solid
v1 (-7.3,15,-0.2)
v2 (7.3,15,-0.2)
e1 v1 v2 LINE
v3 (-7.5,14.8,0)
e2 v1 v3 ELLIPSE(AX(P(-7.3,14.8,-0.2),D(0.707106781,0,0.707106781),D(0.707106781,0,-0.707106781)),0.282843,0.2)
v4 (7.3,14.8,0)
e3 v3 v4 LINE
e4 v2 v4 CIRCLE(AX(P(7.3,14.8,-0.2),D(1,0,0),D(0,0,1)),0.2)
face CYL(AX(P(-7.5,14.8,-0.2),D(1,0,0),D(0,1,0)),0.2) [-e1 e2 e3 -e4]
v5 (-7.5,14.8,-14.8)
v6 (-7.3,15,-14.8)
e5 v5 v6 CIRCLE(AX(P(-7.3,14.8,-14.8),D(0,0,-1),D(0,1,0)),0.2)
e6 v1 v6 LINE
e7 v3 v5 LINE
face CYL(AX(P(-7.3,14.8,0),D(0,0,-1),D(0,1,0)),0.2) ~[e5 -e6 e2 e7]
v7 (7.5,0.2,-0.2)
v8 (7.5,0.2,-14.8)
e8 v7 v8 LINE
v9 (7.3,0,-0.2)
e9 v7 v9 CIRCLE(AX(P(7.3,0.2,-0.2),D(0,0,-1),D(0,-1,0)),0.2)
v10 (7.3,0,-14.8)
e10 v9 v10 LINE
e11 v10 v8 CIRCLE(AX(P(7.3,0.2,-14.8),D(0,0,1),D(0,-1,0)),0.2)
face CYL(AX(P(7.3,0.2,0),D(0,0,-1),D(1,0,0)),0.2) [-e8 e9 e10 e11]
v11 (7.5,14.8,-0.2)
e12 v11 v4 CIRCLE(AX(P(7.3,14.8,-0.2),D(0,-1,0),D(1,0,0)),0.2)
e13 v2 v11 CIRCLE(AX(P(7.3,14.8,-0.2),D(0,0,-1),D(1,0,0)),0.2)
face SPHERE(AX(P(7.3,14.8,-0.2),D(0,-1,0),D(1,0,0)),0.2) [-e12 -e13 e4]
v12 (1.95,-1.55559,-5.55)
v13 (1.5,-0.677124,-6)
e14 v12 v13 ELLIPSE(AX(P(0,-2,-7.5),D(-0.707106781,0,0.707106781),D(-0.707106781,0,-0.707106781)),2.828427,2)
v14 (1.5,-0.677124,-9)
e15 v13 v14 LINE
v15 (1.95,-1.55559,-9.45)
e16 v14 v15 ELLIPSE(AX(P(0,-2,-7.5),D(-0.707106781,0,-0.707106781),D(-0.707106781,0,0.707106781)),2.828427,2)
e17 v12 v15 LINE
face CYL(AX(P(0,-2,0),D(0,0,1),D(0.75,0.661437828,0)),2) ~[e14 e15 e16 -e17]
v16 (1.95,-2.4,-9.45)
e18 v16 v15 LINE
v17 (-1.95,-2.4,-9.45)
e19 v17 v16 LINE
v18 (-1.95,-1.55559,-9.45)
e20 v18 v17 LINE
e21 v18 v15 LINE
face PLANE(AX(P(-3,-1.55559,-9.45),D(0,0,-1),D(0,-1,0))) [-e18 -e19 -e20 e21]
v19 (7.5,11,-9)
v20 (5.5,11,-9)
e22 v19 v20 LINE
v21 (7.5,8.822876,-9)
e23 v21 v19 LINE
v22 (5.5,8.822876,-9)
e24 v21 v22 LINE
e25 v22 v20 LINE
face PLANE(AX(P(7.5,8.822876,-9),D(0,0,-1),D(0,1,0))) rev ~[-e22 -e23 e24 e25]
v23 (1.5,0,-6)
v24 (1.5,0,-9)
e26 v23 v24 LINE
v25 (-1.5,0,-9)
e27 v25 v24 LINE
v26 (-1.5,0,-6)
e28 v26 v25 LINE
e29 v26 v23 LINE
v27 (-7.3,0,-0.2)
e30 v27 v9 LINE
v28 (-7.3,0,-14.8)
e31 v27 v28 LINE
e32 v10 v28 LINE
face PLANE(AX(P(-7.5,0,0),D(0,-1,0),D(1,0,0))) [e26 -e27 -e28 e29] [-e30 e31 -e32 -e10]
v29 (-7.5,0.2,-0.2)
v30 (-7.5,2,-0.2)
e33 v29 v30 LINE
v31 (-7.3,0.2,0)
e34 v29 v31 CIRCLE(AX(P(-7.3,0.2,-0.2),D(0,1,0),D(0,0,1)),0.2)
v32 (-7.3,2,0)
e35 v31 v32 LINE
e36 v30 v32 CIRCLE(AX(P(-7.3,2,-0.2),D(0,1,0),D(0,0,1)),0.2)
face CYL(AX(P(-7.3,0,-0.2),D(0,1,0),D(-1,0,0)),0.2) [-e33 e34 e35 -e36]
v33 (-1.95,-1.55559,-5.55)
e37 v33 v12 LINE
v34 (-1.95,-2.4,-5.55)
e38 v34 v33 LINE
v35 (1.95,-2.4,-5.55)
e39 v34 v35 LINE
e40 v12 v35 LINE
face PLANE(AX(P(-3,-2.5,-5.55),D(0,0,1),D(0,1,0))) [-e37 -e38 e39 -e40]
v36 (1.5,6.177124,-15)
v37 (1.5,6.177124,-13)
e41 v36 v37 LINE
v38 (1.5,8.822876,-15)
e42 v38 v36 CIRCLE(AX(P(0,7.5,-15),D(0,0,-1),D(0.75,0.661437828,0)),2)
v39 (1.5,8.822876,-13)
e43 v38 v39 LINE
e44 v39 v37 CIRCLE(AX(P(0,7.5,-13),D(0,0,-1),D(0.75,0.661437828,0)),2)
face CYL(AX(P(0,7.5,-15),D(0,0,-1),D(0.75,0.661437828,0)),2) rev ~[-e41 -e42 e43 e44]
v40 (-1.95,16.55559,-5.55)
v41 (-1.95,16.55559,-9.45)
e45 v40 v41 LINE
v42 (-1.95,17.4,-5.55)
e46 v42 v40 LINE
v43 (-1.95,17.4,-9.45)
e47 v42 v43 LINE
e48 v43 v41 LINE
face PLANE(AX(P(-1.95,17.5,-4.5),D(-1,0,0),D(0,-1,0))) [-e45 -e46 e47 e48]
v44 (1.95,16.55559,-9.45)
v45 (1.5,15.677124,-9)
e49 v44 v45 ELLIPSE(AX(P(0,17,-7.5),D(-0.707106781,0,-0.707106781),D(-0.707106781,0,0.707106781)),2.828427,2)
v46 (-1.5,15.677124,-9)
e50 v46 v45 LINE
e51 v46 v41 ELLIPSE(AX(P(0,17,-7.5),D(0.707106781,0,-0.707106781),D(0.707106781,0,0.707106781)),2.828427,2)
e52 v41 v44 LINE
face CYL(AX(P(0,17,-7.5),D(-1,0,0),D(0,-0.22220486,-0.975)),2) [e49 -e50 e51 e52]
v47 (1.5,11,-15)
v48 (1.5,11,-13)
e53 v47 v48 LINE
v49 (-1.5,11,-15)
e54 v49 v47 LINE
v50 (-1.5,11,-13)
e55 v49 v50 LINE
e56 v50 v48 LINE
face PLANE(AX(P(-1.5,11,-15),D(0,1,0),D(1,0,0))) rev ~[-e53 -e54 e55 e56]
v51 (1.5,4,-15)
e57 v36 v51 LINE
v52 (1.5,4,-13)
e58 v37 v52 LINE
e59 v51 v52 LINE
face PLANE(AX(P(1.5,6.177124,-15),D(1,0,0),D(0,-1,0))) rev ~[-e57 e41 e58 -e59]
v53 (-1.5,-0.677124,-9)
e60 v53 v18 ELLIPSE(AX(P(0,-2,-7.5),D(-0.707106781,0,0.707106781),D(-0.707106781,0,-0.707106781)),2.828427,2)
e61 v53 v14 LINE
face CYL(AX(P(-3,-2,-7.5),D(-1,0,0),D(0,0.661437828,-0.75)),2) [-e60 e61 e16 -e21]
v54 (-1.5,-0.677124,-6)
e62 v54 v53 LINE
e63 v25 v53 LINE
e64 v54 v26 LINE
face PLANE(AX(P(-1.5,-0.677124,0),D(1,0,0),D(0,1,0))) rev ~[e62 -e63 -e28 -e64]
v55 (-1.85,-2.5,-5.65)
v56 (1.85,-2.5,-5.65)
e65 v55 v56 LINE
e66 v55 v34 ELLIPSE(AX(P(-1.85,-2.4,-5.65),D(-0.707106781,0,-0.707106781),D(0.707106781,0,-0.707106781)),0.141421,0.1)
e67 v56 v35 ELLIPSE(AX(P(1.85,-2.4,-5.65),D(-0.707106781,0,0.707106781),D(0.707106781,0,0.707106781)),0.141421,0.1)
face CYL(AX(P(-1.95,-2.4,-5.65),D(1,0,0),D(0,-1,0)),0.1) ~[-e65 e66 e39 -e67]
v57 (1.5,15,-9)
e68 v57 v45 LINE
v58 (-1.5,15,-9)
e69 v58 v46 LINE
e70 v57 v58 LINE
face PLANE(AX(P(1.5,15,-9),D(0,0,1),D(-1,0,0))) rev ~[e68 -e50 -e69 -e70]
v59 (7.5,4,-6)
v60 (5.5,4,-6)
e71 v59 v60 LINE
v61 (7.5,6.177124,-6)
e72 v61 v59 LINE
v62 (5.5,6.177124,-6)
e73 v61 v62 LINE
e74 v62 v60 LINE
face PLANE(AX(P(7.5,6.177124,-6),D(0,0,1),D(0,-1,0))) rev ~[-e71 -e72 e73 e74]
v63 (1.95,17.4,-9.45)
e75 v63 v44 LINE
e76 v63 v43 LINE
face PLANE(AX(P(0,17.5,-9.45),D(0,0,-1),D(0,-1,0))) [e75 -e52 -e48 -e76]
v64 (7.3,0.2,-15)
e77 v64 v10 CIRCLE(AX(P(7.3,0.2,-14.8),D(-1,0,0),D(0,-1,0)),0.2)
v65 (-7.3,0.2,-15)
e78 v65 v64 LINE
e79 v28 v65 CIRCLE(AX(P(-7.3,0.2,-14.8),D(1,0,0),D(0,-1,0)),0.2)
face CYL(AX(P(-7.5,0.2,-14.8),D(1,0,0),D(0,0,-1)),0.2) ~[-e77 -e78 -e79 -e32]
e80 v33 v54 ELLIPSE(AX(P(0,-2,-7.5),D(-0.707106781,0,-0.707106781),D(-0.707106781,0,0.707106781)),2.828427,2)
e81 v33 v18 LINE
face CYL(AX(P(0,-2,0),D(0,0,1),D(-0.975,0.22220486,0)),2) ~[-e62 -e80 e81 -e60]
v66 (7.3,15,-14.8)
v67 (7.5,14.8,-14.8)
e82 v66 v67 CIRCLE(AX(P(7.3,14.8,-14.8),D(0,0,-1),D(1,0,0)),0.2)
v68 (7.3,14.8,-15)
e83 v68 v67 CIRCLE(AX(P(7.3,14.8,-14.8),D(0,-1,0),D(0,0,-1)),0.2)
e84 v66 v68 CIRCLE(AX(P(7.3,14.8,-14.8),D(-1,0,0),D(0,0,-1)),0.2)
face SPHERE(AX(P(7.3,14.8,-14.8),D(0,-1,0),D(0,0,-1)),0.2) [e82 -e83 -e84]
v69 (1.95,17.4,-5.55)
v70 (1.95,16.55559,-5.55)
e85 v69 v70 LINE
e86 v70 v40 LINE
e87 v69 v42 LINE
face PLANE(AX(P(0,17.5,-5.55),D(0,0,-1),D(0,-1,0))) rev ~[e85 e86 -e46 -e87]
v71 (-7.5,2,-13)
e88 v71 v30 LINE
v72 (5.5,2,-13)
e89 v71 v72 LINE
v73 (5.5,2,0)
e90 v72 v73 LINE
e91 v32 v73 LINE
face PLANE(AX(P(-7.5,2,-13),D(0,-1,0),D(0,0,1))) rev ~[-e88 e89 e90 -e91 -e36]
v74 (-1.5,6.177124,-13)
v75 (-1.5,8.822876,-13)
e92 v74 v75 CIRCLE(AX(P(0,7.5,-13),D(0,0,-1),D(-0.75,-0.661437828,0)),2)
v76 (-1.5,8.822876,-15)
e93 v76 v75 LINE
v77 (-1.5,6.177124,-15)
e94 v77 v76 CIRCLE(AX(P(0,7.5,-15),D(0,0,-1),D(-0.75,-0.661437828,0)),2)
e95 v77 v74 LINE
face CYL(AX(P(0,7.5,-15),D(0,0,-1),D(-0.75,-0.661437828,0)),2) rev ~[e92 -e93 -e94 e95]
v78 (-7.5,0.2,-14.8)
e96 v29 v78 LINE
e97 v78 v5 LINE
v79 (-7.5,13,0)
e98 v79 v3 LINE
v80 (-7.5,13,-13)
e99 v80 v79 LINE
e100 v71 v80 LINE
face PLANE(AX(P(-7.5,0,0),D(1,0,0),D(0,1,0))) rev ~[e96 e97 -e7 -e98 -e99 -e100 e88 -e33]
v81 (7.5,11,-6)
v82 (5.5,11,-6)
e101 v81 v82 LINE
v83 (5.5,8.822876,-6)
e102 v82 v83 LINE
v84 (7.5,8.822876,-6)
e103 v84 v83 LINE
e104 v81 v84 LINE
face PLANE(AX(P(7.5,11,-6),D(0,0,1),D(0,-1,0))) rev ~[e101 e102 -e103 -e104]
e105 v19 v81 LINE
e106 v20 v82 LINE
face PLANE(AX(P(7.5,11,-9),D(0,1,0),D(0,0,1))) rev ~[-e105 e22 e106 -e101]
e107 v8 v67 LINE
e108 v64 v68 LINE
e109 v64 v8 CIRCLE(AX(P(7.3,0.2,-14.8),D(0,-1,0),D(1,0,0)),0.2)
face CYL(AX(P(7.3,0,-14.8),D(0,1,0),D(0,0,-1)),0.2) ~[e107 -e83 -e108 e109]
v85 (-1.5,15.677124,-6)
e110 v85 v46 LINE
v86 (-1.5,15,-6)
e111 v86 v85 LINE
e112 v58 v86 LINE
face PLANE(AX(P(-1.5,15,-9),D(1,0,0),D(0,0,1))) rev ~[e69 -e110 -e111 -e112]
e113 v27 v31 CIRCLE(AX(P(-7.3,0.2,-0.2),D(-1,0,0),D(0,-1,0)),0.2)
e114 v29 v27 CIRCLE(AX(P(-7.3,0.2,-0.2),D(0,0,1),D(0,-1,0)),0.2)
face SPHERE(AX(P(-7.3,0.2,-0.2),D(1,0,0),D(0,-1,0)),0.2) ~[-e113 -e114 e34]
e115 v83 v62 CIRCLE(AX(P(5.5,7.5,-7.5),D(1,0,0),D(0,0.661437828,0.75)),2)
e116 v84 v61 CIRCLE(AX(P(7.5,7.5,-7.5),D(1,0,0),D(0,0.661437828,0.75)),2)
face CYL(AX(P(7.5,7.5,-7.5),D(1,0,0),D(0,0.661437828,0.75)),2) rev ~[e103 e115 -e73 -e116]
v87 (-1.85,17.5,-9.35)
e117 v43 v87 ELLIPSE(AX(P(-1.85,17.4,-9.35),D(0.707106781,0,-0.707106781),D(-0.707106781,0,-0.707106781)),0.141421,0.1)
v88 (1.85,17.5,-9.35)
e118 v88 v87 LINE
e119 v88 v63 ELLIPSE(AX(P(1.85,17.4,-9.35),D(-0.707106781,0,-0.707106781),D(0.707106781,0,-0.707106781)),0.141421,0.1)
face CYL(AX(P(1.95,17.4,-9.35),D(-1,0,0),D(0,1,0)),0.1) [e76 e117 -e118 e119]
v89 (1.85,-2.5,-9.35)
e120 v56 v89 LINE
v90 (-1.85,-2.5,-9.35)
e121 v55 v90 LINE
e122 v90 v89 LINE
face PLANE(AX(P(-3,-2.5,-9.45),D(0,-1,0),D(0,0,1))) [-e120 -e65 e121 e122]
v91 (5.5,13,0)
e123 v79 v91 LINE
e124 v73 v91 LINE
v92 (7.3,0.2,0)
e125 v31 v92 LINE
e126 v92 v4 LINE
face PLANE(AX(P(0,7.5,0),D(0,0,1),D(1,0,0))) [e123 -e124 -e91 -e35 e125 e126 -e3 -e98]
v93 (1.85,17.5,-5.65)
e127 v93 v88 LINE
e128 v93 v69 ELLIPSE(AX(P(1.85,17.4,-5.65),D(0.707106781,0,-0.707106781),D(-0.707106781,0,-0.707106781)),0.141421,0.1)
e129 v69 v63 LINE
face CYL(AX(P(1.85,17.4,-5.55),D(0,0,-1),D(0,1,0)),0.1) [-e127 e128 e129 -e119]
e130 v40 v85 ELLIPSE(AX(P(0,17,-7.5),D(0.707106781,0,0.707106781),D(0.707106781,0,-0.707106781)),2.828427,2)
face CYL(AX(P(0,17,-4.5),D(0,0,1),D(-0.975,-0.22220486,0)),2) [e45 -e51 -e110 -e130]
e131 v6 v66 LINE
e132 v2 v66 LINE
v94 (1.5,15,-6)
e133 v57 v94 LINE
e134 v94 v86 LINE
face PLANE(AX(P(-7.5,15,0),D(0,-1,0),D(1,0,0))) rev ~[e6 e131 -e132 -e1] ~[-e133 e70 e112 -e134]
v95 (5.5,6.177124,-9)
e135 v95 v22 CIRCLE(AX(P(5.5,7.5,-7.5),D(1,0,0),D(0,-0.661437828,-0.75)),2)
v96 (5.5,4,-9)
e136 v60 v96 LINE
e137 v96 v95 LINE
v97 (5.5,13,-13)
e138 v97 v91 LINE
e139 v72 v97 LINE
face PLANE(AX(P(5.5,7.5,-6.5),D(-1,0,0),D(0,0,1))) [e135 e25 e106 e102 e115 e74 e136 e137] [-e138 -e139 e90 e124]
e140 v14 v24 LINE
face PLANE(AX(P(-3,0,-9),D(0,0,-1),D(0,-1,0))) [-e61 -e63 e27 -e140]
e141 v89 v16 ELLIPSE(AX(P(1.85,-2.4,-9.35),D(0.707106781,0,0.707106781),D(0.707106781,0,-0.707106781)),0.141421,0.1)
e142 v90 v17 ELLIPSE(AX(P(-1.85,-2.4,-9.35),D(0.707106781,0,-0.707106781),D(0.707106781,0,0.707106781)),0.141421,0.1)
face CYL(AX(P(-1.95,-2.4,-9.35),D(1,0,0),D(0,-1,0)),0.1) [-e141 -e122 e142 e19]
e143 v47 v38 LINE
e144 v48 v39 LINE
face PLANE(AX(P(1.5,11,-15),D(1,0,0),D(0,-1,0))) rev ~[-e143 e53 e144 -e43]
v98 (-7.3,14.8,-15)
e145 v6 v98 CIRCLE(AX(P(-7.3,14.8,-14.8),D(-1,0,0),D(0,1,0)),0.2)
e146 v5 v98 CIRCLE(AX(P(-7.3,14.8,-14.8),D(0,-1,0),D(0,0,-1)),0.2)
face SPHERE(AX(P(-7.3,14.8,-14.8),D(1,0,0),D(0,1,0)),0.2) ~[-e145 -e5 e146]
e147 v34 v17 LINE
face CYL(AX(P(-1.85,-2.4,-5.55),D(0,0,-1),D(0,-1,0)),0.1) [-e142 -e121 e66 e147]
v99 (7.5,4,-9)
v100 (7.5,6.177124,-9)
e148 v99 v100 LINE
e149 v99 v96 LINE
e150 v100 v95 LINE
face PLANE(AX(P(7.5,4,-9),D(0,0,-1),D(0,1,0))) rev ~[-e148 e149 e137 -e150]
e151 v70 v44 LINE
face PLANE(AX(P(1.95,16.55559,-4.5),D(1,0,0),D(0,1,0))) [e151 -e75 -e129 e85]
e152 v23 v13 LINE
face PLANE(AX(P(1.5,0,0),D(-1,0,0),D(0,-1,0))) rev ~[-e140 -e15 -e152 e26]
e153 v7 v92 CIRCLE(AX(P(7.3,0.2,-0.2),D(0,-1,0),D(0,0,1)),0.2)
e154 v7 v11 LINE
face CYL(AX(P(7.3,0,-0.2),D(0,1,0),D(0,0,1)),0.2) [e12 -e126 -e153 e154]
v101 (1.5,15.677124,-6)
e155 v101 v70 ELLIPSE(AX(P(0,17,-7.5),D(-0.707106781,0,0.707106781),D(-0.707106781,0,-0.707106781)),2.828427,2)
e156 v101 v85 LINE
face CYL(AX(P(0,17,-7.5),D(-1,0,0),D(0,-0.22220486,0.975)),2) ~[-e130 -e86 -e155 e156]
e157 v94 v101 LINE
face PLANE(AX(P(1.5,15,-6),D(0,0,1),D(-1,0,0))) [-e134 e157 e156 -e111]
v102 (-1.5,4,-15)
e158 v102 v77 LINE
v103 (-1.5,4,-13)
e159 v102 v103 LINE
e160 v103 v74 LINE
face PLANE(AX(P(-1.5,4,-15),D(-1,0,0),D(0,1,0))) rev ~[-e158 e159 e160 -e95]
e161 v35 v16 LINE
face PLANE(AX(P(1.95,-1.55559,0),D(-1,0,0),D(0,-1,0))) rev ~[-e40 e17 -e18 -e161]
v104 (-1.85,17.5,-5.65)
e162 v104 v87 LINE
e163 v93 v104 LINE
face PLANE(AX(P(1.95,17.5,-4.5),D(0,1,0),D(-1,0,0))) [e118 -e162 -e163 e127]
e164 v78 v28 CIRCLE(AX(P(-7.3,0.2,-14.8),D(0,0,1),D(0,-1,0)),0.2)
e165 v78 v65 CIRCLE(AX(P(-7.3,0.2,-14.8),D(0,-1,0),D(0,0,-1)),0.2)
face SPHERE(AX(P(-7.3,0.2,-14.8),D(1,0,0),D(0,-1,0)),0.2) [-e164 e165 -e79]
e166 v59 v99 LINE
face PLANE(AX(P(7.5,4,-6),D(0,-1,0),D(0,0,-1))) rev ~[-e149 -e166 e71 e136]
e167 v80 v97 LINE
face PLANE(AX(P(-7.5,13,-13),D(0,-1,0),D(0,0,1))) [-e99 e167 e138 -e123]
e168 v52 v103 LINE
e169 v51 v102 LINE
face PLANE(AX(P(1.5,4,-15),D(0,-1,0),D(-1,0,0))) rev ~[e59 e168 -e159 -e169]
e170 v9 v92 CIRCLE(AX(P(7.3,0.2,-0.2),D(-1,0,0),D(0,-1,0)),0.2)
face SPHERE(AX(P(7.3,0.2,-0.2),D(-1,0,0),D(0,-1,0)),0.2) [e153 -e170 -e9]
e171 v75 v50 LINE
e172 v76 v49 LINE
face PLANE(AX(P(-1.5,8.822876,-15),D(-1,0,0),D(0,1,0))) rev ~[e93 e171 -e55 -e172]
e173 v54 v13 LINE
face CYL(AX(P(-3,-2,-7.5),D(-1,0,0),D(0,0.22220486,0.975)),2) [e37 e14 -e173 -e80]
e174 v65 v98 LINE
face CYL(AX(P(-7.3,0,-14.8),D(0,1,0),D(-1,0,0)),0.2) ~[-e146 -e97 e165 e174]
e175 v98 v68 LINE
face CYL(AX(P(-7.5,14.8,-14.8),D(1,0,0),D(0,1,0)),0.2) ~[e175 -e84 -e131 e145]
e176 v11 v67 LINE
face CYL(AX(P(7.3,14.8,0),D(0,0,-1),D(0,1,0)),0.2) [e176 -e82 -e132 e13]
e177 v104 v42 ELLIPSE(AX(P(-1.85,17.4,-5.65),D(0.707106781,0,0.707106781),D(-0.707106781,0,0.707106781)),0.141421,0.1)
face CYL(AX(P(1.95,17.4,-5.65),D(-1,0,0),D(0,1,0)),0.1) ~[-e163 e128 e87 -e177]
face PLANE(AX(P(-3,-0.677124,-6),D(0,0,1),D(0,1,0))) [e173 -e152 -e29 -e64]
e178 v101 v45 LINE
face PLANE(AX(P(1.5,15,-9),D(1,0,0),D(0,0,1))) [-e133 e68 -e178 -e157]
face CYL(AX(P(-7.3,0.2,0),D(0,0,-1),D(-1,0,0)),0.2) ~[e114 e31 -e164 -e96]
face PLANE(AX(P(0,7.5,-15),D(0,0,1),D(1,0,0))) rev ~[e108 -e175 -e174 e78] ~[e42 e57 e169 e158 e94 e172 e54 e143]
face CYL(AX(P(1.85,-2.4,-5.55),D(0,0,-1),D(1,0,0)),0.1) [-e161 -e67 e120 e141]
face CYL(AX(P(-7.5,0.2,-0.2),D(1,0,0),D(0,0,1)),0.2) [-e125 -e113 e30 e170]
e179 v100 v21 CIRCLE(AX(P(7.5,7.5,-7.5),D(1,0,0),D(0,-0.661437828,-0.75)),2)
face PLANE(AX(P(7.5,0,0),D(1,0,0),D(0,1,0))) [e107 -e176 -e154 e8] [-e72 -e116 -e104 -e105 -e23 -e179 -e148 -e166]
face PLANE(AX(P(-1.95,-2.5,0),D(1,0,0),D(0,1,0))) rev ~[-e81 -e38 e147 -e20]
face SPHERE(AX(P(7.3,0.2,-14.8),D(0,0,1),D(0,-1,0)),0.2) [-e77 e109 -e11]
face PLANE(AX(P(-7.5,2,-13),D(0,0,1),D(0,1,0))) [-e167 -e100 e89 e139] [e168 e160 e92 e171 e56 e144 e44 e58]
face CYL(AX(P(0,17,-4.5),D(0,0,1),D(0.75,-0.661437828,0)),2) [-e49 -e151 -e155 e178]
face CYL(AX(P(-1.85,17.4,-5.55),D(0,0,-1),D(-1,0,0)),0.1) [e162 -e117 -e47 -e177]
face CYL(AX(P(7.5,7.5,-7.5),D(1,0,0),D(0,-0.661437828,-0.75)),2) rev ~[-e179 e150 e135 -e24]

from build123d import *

# Parameters (mm, degrees)
SKETCH_1_W                      = 15
SKETCH_1_H                      = 15
EXTRUDE_1_DEPTH                 = 15
SKETCH_2_W                      = 13
SKETCH_2_H                      = 11
CUT_EXTRUDE_1_DEPTH             = 13
EXTRUDE_START                   = -4.5
EXTRUDE_2_DEPTH                 = 6
SKETCH_5_W                      = 3
SKETCH_5_H                      = 3
EXTRUDE_3_DEPTH                 = 1
CUT_EXTRUDE_3_REACH             = 26.238
CUT_EXTRUDE_4_REACH             = 29.5
CUT_EXTRUDE_5_REACH             = 26.238
CUT_EXTRUDE_5_DIRECTION_2_REACH = 26.238
FILLET_1_R                      = 0.1
FILLET_2_R                      = 0.2
EXTRUDE_4_DEPTH                 = 3
EXTRUDE_4_DEPTH_BACK            = 3
CUT_EXTRUDE_6_DEPTH             = 15
FILLET_3_R                      = 0.1


with BuildPart() as part:
    # 草图1 → 凸台-拉伸1 (new body)
    with BuildSketch(Plane.XY):
        with Locations((0, 7.5)):
            Rectangle(SKETCH_1_W, SKETCH_1_H)
    extrude(amount=-EXTRUDE_1_DEPTH)

    # 草图2 → 切除-拉伸1 (cut)
    with BuildSketch(Plane.ZY.offset(7.5)):
        with Locations((-6.5, 7.5)):
            Rectangle(SKETCH_2_W, SKETCH_2_H)
    extrude(amount=-CUT_EXTRUDE_1_DEPTH, mode=Mode.SUBTRACT)



with BuildPart() as body_2:
    # 草图4 → 凸台-拉伸2 (new body)
    with BuildSketch(Plane.XY.offset(EXTRUDE_START)):
        with BuildLine():
            Line((-1.5, 15.677124344), (1.5, 15.677124344))
            ThreePointArc((1.5, 15.677124344), (1.780042303, 16.088161527), (1.95, 16.555590279))
            Line((1.95, 16.555590279), (1.95, 17.5))
            Line((1.95, 17.5), (-1.95, 17.5))
            Line((-1.95, 17.5), (-1.95, 16.555590279))
            ThreePointArc((-1.95, 16.555590279), (-1.780042303, 16.088161527), (-1.5, 15.677124344))
        make_face()
    extrude(amount=-EXTRUDE_2_DEPTH)


with BuildPart() as part_1:
    add(part.part)

    add(body_2.part)  # 凸台-拉伸3 merges body 2
    # 草图5 → 凸台-拉伸3 (add)
    with BuildSketch(Plane(origin=(0, 15, 0), x_dir=(-1, 0, 0), z_dir=(0, 1, 0))):
        with Locations((0, -7.5)):
            Rectangle(SKETCH_5_W, SKETCH_5_H)
    extrude(amount=EXTRUDE_3_DEPTH)

    # 草图6 → 切除-拉伸3 (cut, up to next)
    with BuildSketch(Plane(origin=(0, 0, -15), x_dir=(-1, 0, 0), z_dir=(0, 0, -1)), mode=Mode.PRIVATE) as cut_extrude_3_sk1:
        with BuildLine():
            Line((-1.5, 6.177124344), (-1.5, 4))
            Line((-1.5, 4), (1.5, 4))
            Line((1.5, 4), (1.5, 6.177124344))
            ThreePointArc((1.5, 6.177124344), (2, 7.5), (1.5, 8.822875656))
            Line((1.5, 8.822875656), (1.5, 11))
            Line((1.5, 11), (-1.5, 11))
            Line((-1.5, 11), (-1.5, 8.822875656))
            ThreePointArc((-1.5, 8.822875656), (-2, 7.5), (-1.5, 6.177124344))
        make_face()
    cut_extrude_3_tool1 = extrude(cut_extrude_3_sk1.sketch, amount=-CUT_EXTRUDE_3_REACH, mode=Mode.PRIVATE) & part_1.part
    add(cut_extrude_3_tool1.solids().sort_by_distance((0, 7.5, -15))[0], mode=Mode.SUBTRACT)

    # 草图7 → 切除-拉伸4 (cut, up to next)
    with BuildSketch(Plane(origin=(7.5, 0, 0), x_dir=(0, 0, -1), z_dir=(1, 0, 0)), mode=Mode.PRIVATE) as cut_extrude_4_sk1:
        with BuildLine():
            Line((6, 6.177124344), (6, 4))
            Line((6, 4), (9, 4))
            Line((9, 4), (9, 6.177124344))
            ThreePointArc((9, 6.177124344), (9.5, 7.5), (9, 8.822875656))
            Line((9, 8.822875656), (9, 11))
            Line((9, 11), (6, 11))
            Line((6, 11), (6, 8.822875656))
            ThreePointArc((6, 8.822875656), (5.5, 7.5), (6, 6.177124344))
        make_face()
    cut_extrude_4_tool1 = extrude(cut_extrude_4_sk1.sketch, amount=-CUT_EXTRUDE_4_REACH, mode=Mode.PRIVATE) & part_1.part
    add(cut_extrude_4_tool1.solids().sort_by_distance((7.5, 7.5, -7.5))[0], mode=Mode.SUBTRACT)

    # 草图8 → 切除-拉伸5 (cut, up to next)
    with BuildSketch(Plane(origin=(0, 0, 0), x_dir=(0, 0, -1), z_dir=(1, 0, 0)), mode=Mode.PRIVATE) as cut_extrude_5_sk1:
        with BuildLine():
            Line((5.55, 17.5), (5.55, 16.555590279))
            ThreePointArc((5.55, 16.555590279), (5.719957697, 16.088161527), (6, 15.677124344))
            Line((6, 15.677124344), (4.5, 15.677124344))
            Line((4.5, 15.677124344), (4.5, 17.5))
            Line((4.5, 17.5), (5.55, 17.5))
        make_face()
    cut_extrude_5_tool1 = extrude(cut_extrude_5_sk1.sketch, amount=-CUT_EXTRUDE_5_REACH, mode=Mode.PRIVATE) & part_1.part
    # 草图8 → 切除-拉伸5 (cut, up to next)
    with BuildSketch(Plane(origin=(0, 0, 0), x_dir=(0, 0, -1), z_dir=(1, 0, 0)), mode=Mode.PRIVATE) as cut_extrude_5_sk2:
        with BuildLine():
            Line((10.5, 17.5), (9.45, 17.5))
            Line((9.45, 17.5), (9.45, 16.555590279))
            ThreePointArc((9.45, 16.555590279), (9.280042303, 16.088161527), (9, 15.677124344))
            Line((9, 15.677124344), (10.5, 15.677124344))
            Line((10.5, 15.677124344), (10.5, 17.5))
        make_face()
    cut_extrude_5_tool2 = extrude(cut_extrude_5_sk2.sketch, amount=-CUT_EXTRUDE_5_REACH, mode=Mode.PRIVATE) & part_1.part
    add(cut_extrude_5_tool1.solids().sort_by_distance((0, 16.539049, -5.075076))[0], mode=Mode.SUBTRACT)
    add(cut_extrude_5_tool2.solids().sort_by_distance((0, 16.539049, -9.924924))[0], mode=Mode.SUBTRACT)

    # 草图8 → 切除-拉伸5 direction 2 (cut, up to next)
    with BuildSketch(Plane(origin=(0, 0, 0), x_dir=(0, 0, -1), z_dir=(1, 0, 0)), mode=Mode.PRIVATE) as cut_extrude_5_direction_2_sk1:
        with BuildLine():
            Line((5.55, 17.5), (5.55, 16.555590279))
            ThreePointArc((5.55, 16.555590279), (5.719957697, 16.088161527), (6, 15.677124344))
            Line((6, 15.677124344), (4.5, 15.677124344))
            Line((4.5, 15.677124344), (4.5, 17.5))
            Line((4.5, 17.5), (5.55, 17.5))
        make_face()
    cut_extrude_5_direction_2_tool1 = extrude(cut_extrude_5_direction_2_sk1.sketch, amount=CUT_EXTRUDE_5_DIRECTION_2_REACH, mode=Mode.PRIVATE) & part_1.part
    # 草图8 → 切除-拉伸5 direction 2 (cut, up to next)
    with BuildSketch(Plane(origin=(0, 0, 0), x_dir=(0, 0, -1), z_dir=(1, 0, 0)), mode=Mode.PRIVATE) as cut_extrude_5_direction_2_sk2:
        with BuildLine():
            Line((10.5, 17.5), (9.45, 17.5))
            Line((9.45, 17.5), (9.45, 16.555590279))
            ThreePointArc((9.45, 16.555590279), (9.280042303, 16.088161527), (9, 15.677124344))
            Line((9, 15.677124344), (10.5, 15.677124344))
            Line((10.5, 15.677124344), (10.5, 17.5))
        make_face()
    cut_extrude_5_direction_2_tool2 = extrude(cut_extrude_5_direction_2_sk2.sketch, amount=CUT_EXTRUDE_5_DIRECTION_2_REACH, mode=Mode.PRIVATE) & part_1.part
    add(cut_extrude_5_direction_2_tool1.solids().sort_by_distance((0, 16.539049, -5.075076))[0], mode=Mode.SUBTRACT)
    add(cut_extrude_5_direction_2_tool2.solids().sort_by_distance((0, 16.539049, -9.924924))[0], mode=Mode.SUBTRACT)

    # 圆角1
    fillet_1_edges = [part_1.edges().sort_by_distance(p)[0] for p in [
        (0, 17.5, -5.55),
        (1.95, 17.5, -7.5),
        (-1.95, 17.5, -7.5),
        (0, 17.5, -9.45),
    ]]
    fillet(fillet_1_edges, radius=FILLET_1_R)

    # 圆角2
    fillet_2_edges = [part_1.edges().sort_by_distance(p)[0] for p in [
        (0, 0, 0),
        (7.5, 0, -7.5),
        (0, 0, -15),
        (-7.5, 0, -7.5),
        (7.5, 7.5, -15),
        (0, 15, -15),
        (-7.5, 15, -7.5),
        (-7.5, 7.5, -15),
        (-7.5, 1, 0),
        (7.5, 7.5, 0),
        (7.5, 15, -7.5),
        (0, 15, 0),
    ]]
    fillet(fillet_2_edges, radius=FILLET_2_R)

    # 草图9 → 凸台-拉伸4 (add, two sides: drawn at the far end of the back side and taken through both)
    with BuildSketch(Plane(origin=(0, 0, 0), x_dir=(0, 0, -1), z_dir=(1, 0, 0)).offset(-EXTRUDE_4_DEPTH_BACK)):
        with BuildLine():
            Line((6, 0), (9, 0))
            Line((9, 0), (9, -0.677124344))
            ThreePointArc((9, -0.677124344), (9.280042303, -1.088161527), (9.45, -1.555590279))
            Line((9.45, -1.555590279), (9.45, -2.5))
            Line((9.45, -2.5), (5.55, -2.5))
            Line((5.55, -2.5), (5.55, -1.555590279))
            ThreePointArc((5.55, -1.555590279), (5.719957697, -1.088161527), (6, -0.677124344))
            Line((6, -0.677124344), (6, 0))
        make_face()
    extrude(amount=EXTRUDE_4_DEPTH + EXTRUDE_4_DEPTH_BACK)

    # 草图10 → 切除-拉伸6 (cut)
    with BuildSketch(Plane.XY):
        with BuildLine():
            Line((-1.95, -2.5), (-1.95, -1.555590279))
            ThreePointArc((-1.95, -1.555590279), (-1.780042303, -1.088161527), (-1.5, -0.677124344))
            Line((-1.5, -0.677124344), (-1.5, 0))
            Line((-1.5, 0), (-3, 0))
            Line((-3, 0), (-3, -2.5))
            Line((-3, -2.5), (-1.95, -2.5))
        make_face()
        with BuildLine():
            Line((1.5, 0), (1.5, -0.677124344))
            ThreePointArc((1.5, -0.677124344), (1.780042303, -1.088161527), (1.95, -1.555590279))
            Line((1.95, -1.555590279), (1.95, -2.5))
            Line((1.95, -2.5), (3, -2.5))
            Line((3, -2.5), (3, 0))
            Line((3, 0), (1.5, 0))
        make_face()
    extrude(amount=-CUT_EXTRUDE_6_DEPTH, mode=Mode.SUBTRACT)

    # 圆角3
    fillet_3_edges = [part_1.edges().sort_by_distance(p)[0] for p in [
        (0, -2.5, -9.45),
        (0, -2.5, -5.55),
        (-1.95, -2.5, -7.5),
        (1.95, -2.5, -7.5),
    ]]
    fillet(fillet_3_edges, radius=FILLET_3_R)


solid = part_1.part
